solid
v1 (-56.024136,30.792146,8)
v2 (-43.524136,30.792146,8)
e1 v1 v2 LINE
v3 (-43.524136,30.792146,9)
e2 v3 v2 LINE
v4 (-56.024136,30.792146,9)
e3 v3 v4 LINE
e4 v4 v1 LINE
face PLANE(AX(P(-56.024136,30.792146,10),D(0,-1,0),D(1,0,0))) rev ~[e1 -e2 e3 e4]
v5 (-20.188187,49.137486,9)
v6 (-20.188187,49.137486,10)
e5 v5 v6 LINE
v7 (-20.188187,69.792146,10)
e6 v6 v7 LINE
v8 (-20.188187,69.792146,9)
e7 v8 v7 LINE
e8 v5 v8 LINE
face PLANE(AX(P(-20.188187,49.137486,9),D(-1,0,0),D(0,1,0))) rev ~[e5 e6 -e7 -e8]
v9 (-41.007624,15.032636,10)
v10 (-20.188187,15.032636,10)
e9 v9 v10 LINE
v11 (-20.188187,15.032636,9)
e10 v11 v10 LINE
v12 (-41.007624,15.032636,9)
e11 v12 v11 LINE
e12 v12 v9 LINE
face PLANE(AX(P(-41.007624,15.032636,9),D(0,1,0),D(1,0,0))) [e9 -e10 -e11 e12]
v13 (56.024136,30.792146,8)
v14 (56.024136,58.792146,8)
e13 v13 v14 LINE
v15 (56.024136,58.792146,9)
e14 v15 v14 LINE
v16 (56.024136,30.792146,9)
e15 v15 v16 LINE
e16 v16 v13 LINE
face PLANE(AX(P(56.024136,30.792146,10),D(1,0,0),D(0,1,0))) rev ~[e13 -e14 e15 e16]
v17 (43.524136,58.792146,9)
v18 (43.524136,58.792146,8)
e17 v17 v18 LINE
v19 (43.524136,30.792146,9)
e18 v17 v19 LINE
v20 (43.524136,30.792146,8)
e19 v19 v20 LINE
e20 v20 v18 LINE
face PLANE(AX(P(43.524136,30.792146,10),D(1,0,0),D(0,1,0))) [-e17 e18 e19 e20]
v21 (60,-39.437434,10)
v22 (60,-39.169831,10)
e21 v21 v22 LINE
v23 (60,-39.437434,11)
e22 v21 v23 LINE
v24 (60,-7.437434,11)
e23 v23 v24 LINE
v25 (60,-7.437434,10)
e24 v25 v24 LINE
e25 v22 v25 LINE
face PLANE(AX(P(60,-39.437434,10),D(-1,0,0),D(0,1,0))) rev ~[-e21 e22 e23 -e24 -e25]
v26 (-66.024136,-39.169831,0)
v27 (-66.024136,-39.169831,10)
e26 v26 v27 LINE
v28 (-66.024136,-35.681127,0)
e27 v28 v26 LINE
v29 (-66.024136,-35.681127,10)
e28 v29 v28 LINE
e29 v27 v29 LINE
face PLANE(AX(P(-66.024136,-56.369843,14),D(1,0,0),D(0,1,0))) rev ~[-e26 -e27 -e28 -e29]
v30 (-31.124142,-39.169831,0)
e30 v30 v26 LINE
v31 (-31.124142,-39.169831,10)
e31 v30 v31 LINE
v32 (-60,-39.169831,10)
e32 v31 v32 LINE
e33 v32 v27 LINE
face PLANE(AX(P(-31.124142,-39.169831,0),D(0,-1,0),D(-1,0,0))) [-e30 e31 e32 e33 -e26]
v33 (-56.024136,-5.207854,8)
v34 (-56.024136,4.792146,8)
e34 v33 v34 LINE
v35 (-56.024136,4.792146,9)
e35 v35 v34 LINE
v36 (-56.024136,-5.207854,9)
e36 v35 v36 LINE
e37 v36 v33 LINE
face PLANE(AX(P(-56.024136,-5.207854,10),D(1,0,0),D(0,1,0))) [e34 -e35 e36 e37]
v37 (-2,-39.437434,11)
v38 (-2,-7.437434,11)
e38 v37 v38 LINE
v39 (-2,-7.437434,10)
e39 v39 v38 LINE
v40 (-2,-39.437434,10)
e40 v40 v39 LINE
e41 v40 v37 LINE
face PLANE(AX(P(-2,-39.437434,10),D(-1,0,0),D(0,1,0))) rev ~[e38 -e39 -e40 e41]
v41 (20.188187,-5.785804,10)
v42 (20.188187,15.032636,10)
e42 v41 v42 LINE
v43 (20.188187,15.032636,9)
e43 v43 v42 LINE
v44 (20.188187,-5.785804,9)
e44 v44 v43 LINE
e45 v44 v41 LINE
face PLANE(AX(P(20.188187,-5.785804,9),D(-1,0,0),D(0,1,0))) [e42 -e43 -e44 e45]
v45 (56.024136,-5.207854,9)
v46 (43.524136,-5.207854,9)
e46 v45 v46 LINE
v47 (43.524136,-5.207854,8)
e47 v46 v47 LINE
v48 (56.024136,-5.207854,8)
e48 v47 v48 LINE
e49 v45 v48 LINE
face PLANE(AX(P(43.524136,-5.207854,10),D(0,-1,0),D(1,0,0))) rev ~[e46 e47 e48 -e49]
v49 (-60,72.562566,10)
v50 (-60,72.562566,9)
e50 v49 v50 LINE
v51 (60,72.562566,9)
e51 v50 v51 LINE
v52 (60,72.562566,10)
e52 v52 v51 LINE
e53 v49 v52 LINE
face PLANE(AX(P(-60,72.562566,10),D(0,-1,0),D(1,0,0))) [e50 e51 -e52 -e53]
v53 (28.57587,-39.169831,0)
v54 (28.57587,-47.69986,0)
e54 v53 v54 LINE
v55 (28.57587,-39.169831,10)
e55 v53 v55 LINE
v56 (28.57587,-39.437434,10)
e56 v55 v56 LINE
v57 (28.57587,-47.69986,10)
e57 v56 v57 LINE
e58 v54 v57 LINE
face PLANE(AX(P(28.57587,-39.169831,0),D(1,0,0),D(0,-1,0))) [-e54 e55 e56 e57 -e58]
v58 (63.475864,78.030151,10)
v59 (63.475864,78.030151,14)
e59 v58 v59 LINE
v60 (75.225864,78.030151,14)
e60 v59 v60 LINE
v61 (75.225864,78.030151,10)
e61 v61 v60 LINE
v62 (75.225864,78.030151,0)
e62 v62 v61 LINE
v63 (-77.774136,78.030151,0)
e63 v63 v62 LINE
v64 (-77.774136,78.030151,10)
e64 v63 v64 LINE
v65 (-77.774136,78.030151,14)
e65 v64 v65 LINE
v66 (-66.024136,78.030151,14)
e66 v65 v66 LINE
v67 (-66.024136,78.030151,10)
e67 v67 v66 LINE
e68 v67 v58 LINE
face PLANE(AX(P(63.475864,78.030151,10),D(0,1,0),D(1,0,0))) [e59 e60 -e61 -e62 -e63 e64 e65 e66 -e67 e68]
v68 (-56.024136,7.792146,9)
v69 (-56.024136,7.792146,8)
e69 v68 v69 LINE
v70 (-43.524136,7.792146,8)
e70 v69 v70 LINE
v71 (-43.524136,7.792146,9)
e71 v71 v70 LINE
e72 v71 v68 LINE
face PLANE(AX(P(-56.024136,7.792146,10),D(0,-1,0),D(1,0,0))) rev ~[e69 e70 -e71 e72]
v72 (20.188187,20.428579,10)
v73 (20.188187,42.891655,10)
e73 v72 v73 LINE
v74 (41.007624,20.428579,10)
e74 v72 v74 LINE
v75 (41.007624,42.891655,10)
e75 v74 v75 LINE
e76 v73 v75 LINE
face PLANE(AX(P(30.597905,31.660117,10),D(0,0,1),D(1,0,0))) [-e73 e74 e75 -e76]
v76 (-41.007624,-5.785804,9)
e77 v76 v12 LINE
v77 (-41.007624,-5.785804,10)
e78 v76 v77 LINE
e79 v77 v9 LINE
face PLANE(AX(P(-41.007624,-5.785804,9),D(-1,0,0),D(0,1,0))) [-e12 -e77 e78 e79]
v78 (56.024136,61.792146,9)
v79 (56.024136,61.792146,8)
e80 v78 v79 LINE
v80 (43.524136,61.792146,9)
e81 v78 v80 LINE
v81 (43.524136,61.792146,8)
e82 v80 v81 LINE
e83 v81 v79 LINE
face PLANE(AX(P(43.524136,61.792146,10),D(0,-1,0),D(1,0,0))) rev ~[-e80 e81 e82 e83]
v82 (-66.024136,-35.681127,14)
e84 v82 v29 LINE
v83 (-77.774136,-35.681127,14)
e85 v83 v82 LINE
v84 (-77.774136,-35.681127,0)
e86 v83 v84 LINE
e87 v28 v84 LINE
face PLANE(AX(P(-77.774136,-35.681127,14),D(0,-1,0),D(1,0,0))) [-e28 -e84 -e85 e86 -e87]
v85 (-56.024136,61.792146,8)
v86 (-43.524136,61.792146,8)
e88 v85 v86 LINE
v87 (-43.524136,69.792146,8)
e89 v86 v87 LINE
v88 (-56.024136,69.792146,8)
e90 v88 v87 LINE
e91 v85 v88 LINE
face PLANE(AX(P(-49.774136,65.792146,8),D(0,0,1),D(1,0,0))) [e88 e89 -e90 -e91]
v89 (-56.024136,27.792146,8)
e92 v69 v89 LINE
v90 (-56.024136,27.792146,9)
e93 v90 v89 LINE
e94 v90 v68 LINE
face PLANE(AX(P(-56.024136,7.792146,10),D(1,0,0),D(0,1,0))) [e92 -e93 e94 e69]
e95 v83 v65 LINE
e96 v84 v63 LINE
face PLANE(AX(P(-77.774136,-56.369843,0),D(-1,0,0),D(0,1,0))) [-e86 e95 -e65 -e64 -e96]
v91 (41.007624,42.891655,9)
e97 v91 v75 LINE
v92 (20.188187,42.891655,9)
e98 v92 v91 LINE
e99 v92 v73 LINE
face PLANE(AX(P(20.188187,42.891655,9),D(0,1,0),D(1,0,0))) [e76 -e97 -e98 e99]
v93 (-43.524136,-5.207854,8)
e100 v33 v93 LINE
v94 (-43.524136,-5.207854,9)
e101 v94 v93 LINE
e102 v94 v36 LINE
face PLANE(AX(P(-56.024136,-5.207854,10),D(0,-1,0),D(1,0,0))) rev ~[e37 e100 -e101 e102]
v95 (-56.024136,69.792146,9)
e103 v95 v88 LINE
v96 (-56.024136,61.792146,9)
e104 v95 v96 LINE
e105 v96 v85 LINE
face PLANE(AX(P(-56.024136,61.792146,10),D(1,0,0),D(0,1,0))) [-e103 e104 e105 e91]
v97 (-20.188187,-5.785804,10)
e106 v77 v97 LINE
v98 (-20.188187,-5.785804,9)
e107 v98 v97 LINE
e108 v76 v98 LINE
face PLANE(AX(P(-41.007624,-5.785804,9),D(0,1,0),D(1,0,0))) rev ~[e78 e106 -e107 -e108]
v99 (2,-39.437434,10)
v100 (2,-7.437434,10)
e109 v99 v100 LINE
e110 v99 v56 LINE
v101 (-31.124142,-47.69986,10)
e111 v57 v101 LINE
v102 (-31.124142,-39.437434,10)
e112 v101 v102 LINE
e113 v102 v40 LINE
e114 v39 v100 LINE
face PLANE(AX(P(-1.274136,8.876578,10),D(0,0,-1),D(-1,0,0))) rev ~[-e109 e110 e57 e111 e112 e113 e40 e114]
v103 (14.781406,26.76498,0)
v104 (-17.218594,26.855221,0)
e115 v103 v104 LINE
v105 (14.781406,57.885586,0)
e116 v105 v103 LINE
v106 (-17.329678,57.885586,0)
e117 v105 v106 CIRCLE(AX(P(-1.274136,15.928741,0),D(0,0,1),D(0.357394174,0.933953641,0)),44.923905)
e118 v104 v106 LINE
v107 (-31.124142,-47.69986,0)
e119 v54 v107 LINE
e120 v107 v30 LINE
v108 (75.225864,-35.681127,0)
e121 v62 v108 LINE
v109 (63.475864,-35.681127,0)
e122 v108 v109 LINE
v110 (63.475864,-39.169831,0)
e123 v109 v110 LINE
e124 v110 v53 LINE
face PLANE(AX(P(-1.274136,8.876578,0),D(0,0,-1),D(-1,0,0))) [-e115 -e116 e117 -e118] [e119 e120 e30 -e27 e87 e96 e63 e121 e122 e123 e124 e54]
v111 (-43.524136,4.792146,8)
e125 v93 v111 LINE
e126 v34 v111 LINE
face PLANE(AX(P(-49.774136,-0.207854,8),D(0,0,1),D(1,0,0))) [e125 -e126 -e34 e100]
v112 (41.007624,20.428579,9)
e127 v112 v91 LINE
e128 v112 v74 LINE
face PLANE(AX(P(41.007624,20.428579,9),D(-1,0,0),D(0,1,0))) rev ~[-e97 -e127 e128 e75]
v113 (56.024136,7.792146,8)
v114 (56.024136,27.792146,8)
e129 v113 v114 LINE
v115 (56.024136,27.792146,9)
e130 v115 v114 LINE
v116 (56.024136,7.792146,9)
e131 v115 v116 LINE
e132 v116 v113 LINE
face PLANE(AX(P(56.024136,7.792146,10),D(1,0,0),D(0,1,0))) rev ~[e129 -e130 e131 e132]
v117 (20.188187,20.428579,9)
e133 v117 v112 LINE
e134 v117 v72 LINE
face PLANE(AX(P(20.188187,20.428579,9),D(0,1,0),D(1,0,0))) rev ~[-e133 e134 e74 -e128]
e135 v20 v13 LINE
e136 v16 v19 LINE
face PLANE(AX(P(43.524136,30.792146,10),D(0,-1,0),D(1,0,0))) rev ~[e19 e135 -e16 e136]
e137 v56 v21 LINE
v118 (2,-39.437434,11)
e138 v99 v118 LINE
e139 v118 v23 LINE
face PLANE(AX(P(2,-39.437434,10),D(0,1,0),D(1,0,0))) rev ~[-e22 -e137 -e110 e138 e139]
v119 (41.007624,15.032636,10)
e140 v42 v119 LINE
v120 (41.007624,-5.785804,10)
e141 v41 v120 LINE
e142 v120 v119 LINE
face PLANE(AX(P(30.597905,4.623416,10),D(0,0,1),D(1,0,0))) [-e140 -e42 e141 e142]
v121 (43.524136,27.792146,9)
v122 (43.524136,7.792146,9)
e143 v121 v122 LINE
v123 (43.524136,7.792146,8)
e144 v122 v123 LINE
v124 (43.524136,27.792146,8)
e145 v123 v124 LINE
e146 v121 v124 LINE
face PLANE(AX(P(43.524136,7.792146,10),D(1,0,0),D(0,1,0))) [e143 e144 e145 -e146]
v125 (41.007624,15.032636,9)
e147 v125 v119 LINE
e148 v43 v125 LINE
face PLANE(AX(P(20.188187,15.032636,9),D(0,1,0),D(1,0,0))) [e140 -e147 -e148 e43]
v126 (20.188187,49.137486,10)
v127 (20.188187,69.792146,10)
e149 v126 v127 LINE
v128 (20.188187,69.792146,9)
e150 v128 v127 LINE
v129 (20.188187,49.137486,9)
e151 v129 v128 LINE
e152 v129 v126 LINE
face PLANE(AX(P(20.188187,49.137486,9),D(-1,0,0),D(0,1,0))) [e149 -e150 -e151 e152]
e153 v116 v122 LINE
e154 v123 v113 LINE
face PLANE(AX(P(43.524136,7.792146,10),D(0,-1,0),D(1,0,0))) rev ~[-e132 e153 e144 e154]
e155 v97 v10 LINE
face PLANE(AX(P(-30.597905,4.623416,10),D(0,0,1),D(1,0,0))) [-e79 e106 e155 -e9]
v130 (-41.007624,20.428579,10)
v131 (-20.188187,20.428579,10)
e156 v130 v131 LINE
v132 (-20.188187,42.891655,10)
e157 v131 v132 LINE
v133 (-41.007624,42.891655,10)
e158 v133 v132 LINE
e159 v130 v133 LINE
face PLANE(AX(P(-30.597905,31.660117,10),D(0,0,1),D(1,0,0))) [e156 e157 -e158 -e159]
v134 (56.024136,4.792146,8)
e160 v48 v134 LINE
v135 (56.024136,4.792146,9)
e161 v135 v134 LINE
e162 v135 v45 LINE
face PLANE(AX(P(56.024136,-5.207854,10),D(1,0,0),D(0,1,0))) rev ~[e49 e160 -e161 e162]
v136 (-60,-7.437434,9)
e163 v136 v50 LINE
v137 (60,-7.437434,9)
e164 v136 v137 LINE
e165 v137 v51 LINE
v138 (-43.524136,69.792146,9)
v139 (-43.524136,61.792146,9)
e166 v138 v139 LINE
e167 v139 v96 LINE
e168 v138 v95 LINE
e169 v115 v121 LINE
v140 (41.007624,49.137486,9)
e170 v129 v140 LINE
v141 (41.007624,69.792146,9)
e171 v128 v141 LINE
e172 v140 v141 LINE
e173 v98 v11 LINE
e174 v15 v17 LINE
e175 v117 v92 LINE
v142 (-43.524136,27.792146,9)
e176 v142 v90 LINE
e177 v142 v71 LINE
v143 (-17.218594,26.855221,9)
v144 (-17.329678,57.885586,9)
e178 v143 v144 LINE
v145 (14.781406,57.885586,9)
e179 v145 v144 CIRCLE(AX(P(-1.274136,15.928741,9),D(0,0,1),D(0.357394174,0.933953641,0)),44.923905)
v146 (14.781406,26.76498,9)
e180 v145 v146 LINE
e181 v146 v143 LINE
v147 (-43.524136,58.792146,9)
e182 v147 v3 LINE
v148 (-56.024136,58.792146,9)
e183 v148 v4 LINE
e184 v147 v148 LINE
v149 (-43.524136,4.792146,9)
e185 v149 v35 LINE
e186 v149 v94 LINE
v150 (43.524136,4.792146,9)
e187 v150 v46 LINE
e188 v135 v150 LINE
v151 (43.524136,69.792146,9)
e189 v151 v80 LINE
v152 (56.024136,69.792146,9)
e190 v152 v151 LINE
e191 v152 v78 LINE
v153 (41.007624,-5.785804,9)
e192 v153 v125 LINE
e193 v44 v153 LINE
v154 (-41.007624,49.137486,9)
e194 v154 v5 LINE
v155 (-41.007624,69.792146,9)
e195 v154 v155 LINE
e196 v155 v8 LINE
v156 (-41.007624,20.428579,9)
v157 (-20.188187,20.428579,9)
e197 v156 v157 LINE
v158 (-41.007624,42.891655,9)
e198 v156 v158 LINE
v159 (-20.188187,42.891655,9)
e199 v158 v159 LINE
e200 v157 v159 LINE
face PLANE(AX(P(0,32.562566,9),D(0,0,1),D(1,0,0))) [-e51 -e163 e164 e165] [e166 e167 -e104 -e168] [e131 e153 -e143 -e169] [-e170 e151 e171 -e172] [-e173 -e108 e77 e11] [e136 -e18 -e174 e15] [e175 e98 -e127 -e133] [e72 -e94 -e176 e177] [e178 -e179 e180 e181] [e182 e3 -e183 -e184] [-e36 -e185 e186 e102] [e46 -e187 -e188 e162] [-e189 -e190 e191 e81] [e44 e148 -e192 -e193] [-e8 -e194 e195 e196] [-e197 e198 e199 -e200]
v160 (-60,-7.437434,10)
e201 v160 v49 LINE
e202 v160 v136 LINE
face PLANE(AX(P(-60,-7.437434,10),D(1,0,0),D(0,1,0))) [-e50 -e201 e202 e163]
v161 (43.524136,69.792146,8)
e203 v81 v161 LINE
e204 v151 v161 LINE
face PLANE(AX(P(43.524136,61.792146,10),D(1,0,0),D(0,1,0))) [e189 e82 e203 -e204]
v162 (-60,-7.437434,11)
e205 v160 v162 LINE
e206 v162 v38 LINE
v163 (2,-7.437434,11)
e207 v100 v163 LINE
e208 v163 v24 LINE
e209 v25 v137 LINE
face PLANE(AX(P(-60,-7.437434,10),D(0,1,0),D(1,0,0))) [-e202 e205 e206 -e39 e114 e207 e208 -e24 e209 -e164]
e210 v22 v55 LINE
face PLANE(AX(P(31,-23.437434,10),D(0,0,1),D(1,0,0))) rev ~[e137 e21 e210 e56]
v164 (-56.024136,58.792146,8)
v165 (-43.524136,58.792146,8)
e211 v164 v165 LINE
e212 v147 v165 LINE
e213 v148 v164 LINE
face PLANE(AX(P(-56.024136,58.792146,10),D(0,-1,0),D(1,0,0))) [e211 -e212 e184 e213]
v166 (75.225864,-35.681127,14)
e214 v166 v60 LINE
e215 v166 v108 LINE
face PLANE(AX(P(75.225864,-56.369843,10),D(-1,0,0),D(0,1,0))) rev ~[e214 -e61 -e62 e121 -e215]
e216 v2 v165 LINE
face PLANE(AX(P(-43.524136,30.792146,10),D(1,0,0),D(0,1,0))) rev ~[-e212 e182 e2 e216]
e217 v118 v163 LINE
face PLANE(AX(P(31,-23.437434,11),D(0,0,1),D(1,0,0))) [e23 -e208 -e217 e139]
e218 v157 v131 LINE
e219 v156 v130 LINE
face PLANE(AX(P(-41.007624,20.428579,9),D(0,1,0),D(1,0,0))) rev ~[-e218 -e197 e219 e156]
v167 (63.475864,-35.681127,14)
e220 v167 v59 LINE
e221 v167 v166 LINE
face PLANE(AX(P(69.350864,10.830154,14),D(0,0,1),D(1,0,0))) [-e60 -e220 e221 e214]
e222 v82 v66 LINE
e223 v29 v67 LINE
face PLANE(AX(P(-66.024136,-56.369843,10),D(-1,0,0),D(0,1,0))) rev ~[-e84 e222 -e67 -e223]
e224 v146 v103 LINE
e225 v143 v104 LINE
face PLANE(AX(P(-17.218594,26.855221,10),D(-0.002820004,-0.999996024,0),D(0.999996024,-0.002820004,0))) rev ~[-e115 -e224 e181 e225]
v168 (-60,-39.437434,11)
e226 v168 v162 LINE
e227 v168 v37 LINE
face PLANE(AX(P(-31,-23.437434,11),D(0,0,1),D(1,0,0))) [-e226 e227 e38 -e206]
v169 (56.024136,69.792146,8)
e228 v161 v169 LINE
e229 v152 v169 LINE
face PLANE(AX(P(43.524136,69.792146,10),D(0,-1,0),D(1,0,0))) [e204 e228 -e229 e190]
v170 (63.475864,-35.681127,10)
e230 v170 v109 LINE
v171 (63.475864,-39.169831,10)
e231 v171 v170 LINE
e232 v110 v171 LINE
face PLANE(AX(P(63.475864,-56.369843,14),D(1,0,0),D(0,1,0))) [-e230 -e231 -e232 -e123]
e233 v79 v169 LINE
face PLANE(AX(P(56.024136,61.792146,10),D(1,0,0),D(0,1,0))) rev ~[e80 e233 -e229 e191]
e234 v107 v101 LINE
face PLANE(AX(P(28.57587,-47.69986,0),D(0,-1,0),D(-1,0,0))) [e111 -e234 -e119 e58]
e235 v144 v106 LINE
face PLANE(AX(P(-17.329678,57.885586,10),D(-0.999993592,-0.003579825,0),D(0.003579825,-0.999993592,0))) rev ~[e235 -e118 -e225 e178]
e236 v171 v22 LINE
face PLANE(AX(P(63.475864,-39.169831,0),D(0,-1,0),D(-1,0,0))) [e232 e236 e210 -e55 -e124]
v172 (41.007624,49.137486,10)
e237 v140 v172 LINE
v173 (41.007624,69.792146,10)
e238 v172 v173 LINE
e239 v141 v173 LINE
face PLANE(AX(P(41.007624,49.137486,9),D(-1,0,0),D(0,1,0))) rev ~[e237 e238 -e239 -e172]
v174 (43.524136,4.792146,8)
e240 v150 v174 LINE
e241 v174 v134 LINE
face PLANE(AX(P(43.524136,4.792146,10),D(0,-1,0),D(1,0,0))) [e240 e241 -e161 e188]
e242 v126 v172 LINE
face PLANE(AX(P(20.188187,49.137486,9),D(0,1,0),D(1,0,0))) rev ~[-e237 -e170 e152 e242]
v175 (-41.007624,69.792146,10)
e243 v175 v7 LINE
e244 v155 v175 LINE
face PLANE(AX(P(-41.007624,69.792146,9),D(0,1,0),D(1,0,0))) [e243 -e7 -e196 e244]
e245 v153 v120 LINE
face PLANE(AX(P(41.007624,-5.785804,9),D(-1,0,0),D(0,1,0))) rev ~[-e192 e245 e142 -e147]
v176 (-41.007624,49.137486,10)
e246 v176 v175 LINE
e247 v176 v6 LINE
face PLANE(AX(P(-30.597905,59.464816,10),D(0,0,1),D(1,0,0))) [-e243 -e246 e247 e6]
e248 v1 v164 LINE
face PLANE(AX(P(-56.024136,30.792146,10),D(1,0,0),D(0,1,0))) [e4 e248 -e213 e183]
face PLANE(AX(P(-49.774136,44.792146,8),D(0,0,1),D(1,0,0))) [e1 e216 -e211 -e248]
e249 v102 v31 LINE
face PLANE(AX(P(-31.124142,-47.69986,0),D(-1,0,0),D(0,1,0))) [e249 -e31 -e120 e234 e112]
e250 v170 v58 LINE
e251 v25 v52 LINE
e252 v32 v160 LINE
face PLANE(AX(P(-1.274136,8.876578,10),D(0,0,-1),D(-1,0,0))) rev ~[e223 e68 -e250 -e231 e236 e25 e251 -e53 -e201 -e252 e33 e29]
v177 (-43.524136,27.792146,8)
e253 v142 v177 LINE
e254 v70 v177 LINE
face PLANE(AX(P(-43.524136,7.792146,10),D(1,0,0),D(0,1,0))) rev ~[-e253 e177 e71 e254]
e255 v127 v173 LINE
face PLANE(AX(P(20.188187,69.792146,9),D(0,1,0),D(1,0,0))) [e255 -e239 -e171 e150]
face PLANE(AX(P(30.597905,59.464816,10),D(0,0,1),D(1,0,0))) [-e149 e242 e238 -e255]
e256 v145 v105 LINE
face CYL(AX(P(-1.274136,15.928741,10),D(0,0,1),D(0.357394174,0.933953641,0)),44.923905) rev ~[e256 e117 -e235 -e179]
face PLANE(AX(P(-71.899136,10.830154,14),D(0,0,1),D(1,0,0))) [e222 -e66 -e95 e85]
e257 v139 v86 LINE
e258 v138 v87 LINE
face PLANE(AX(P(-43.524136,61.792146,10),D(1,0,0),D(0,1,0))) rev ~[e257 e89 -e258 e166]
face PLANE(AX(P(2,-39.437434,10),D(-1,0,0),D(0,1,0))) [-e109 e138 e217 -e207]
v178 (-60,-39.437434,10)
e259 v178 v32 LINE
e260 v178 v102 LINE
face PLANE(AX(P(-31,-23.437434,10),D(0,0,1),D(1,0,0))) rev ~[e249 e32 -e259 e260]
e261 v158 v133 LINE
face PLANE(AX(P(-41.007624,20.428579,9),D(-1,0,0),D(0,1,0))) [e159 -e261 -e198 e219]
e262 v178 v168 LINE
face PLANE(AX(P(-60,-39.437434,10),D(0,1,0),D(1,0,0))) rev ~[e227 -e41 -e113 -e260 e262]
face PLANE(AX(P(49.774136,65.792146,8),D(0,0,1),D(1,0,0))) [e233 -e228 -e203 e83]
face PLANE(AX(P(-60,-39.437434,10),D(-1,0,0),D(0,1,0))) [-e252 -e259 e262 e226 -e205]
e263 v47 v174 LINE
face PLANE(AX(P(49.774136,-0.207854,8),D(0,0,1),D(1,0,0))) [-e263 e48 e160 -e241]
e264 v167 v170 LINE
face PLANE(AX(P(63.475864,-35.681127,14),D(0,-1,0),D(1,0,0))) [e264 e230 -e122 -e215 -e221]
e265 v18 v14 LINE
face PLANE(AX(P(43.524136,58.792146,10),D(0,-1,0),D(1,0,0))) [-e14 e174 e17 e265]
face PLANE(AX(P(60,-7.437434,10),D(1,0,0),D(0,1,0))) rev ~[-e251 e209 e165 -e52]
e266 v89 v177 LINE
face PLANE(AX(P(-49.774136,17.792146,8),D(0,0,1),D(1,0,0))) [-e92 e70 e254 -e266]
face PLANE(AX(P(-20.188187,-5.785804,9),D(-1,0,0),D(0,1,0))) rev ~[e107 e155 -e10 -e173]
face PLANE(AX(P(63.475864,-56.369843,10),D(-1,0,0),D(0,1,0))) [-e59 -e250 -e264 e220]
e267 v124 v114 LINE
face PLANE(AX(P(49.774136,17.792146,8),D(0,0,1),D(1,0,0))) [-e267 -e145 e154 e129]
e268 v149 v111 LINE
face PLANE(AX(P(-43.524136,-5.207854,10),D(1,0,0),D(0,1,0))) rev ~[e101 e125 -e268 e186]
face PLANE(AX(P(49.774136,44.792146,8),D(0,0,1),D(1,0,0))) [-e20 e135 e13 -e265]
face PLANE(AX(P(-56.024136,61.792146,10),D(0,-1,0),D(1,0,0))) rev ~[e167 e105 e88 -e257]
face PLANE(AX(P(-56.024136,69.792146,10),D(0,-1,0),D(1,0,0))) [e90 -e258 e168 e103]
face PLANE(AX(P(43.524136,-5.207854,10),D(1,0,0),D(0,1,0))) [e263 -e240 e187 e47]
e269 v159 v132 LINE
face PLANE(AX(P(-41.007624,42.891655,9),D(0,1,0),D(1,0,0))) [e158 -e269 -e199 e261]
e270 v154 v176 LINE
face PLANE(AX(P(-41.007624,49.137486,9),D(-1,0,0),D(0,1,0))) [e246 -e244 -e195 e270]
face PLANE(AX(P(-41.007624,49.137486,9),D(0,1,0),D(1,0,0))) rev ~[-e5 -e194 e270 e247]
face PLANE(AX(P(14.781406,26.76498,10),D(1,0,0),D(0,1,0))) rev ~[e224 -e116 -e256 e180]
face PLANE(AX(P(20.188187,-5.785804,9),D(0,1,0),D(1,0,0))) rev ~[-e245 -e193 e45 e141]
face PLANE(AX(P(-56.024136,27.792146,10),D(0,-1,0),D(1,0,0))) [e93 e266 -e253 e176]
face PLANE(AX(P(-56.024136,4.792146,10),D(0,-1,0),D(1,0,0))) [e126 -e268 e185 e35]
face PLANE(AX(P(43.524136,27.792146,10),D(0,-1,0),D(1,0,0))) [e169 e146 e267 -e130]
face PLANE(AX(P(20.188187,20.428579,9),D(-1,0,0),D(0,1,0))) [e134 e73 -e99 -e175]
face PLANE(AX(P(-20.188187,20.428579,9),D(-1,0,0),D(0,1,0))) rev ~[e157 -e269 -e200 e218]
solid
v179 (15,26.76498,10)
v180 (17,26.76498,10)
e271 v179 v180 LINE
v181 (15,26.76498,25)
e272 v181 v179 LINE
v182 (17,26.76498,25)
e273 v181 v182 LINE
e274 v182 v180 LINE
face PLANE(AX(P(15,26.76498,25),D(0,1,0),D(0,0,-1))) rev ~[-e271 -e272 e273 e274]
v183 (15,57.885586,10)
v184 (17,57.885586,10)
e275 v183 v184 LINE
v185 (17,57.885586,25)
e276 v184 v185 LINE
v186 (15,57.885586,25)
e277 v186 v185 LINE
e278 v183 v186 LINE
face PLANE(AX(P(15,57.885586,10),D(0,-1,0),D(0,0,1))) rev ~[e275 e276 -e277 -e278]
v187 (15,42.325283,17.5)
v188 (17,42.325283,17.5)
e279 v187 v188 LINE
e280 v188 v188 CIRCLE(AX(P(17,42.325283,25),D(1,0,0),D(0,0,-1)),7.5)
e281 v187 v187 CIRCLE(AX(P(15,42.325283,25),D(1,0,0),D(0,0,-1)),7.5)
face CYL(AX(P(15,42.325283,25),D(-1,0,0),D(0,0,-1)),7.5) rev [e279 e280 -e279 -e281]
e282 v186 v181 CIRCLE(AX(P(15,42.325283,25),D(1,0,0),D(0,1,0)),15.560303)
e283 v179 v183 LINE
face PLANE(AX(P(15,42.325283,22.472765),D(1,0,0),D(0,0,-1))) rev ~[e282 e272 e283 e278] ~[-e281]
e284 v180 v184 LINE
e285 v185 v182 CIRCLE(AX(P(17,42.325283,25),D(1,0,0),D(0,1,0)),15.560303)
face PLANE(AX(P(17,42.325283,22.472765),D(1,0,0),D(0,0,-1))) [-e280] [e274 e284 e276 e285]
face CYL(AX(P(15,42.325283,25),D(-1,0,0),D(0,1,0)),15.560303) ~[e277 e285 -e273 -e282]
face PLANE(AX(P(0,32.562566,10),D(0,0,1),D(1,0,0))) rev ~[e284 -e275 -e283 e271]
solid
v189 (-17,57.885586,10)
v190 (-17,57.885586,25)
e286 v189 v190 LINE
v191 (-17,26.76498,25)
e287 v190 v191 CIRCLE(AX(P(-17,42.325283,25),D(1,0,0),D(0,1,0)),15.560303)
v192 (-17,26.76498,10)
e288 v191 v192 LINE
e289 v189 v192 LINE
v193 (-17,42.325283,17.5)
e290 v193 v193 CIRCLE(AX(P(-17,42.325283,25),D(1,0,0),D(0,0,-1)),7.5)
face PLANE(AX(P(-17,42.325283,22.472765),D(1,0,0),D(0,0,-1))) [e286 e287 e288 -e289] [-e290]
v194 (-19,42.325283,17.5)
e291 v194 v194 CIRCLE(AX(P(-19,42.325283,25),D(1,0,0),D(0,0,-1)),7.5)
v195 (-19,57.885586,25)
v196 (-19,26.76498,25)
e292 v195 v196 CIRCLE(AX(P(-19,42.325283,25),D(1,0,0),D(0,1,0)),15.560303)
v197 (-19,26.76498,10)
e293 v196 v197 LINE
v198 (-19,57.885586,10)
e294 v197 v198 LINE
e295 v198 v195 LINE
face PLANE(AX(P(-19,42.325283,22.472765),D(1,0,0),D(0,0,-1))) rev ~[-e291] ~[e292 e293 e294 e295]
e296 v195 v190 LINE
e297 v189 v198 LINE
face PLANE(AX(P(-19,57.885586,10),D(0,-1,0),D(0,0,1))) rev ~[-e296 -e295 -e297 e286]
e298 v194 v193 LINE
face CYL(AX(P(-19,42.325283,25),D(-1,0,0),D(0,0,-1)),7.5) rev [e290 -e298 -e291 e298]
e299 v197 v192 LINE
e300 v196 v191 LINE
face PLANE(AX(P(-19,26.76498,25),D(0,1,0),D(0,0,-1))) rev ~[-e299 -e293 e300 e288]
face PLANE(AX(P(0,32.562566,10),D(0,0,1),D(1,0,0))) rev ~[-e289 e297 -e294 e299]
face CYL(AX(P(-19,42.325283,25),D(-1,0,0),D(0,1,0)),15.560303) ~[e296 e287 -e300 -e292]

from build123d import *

# Parameters (mm, degrees)
BOSS_EXTRUDE1_DEPTH = 10
CUT_EXTRUDE1_DEPTH  = 60
SKETCH8_R           = 7.5
BOSS_EXTRUDE4_DEPTH = 2
BOSS_EXTRUDE5_START = -2
SKETCH9_R           = 7.5
BOSS_EXTRUDE5_DEPTH = 2
SKETCH2_W           = 11.75
SKETCH2_H           = 134.399993897
BOSS_EXTRUDE6_DEPTH = 4
SKETCH11_W          = 12.5
SKETCH11_H          = 8
SKETCH11_H_2        = 28
SKETCH11_H_3        = 20
SKETCH11_H_4        = 10
CUT_EXTRUDE2_DEPTH  = 2
SKETCH12_W          = 120
SKETCH12_H          = 80
CUT_EXTRUDE4_DEPTH  = 1
SKETCH14_W          = 20.819436715
SKETCH14_H          = 20.654659611
SKETCH14_H_2        = 22.463076456
SKETCH14_H_3        = 20.818440047
BOSS_EXTRUDE7_DEPTH = 1
SKETCH15_W          = 58
SKETCH15_H          = 32
BOSS_EXTRUDE8_DEPTH = 1
SKETCH16_W          = 11.75
SKETCH16_H          = 20.68871607
CUT_EXTRUDE5_DEPTH  = 30


with BuildPart() as part:
    # Sketch1 → Boss-Extrude1 (new body)
    with BuildSketch(Plane.XY):
        Polygon((-66.024135719, -56.369843335), (-77.774135719, -56.369843335), (-77.774135719, 78.030150562), (75.225864281, 78.030150562), (75.225864281, -56.369843335), (63.475864281, -56.369843335), (63.475864281, -39.169831128), (28.575870384, -39.169831128), (28.575870384, -47.699860425), (-31.124141823, -47.699860425), (-31.124141823, -39.169831128), (-66.024135719, -39.169831128), align=None)
    extrude(amount=BOSS_EXTRUDE1_DEPTH)

    # Sketch3 → Cut-Extrude1 (cut)
    with BuildSketch(Plane.XY.offset(10)):
        with BuildLine():
            Line((-17.218593727, 26.855220573), (14.781406273, 26.764980095))
            Line((14.781406273, 26.764980095), (14.781406273, 57.885585563))
            ThreePointArc((14.781406273, 57.885585563), (-1.274135719, 60.852645916), (-17.329677711, 57.885585563))
            Line((-17.329677711, 57.885585563), (-17.218593727, 26.855220573))
        make_face()
    extrude(amount=-CUT_EXTRUDE1_DEPTH, mode=Mode.SUBTRACT)

    # Sketch8 → Boss-Extrude4 (add)
    with BuildSketch(Plane(origin=(15, 0, 0), x_dir=(0, 0, -1), z_dir=(1, 0, 0))):
        with BuildLine():
            Line((-10, 26.764980095), (-10, 57.885585563))
            Line((-10, 57.885585563), (-25, 57.885585563))
            ThreePointArc((-25, 57.885585563), (-40.560302734, 42.325282829), (-25, 26.764980095))
            Line((-25, 26.764980095), (-10, 26.764980095))
        make_face()
        with Locations((-25, 42.325282829)):
            Circle(SKETCH8_R, mode=Mode.SUBTRACT)
    extrude(amount=BOSS_EXTRUDE4_DEPTH)

    # Sketch9 → Boss-Extrude5 (add)
    with BuildSketch(Plane(origin=(-17, 0, 0), x_dir=(0, 0, -1), z_dir=(1, 0, 0)).offset(BOSS_EXTRUDE5_START)):
        with BuildLine():
            Line((-10, 57.885585563), (-25, 57.885585563))
            ThreePointArc((-25, 57.885585563), (-40.560302734, 42.325282829), (-25, 26.764980095))
            Line((-25, 26.764980095), (-10, 26.764980095))
            Line((-10, 26.764980095), (-10, 57.885585563))
        make_face()
        with Locations((-25, 42.325282829)):
            Circle(SKETCH9_R, mode=Mode.SUBTRACT)
    extrude(amount=BOSS_EXTRUDE5_DEPTH)

    # Sketch2 → Boss-Extrude6 (add)
    with BuildSketch(Plane.XY.offset(10)):
        with Locations((69.350864281, 10.830153613)):
            Rectangle(SKETCH2_W, SKETCH2_H)
        with Locations((-71.899135719, 10.830153613)):
            Rectangle(SKETCH2_W, SKETCH2_H)
    extrude(amount=BOSS_EXTRUDE6_DEPTH)

    # Sketch11 → Cut-Extrude2 (cut)
    with BuildSketch(Plane.XY.offset(10)):
        with Locations((-49.774135719, 65.792146082)):
            Rectangle(SKETCH11_W, SKETCH11_H)
        with Locations((-49.774135719, 44.792146082)):
            Rectangle(SKETCH11_W, SKETCH11_H_2)
        with Locations((-49.774135719, 17.792146082)):
            Rectangle(SKETCH11_W, SKETCH11_H_3)
        with Locations((-49.774135719, -0.207853918)):
            Rectangle(SKETCH11_W, SKETCH11_H_4)
        with Locations((49.774135719, -0.207853918)):
            Rectangle(SKETCH11_W, SKETCH11_H_4)
        with Locations((49.774135719, 17.792146082)):
            Rectangle(SKETCH11_W, SKETCH11_H_3)
        with Locations((49.774135719, 44.792146082)):
            Rectangle(SKETCH11_W, SKETCH11_H_2)
        with Locations((49.774135719, 65.792146082)):
            Rectangle(SKETCH11_W, SKETCH11_H)
    extrude(amount=-CUT_EXTRUDE2_DEPTH, mode=Mode.SUBTRACT)

    # Sketch12 → Cut-Extrude4 (cut)
    with BuildSketch(Plane.XY.offset(10)):
        with Locations((0, 32.562566027)):
            Rectangle(SKETCH12_W, SKETCH12_H)
    extrude(amount=-CUT_EXTRUDE4_DEPTH, mode=Mode.SUBTRACT)


with BuildPart() as cut_extrude4_piece_1:
    # of the separate pieces the step leaves, piece 1, a body of its own (cut_extrude4_pieces)
    add(part.part.solids().sort_by_distance((-66.024135719, -56.369843335, 0))[0])

    # Sketch14 → Boss-Extrude7 (add)
    with BuildSketch(Plane.XY.offset(9)):
        with Locations((-30.597905478, 59.464816277)):
            Rectangle(SKETCH14_W, SKETCH14_H)
        with Locations((-30.597905478, 31.660117229)):
            Rectangle(SKETCH14_W, SKETCH14_H_2)
        with Locations((-30.597905478, 4.62341571)):
            Rectangle(SKETCH14_W, SKETCH14_H_3)
        with Locations((30.597905478, 31.660117229)):
            Rectangle(SKETCH14_W, SKETCH14_H_2)
        with Locations((30.597905478, 59.464816277)):
            Rectangle(SKETCH14_W, SKETCH14_H)
        with Locations((30.597905478, 4.62341571)):
            Rectangle(SKETCH14_W, SKETCH14_H_3)
    extrude(amount=BOSS_EXTRUDE7_DEPTH)

    # Sketch15 → Boss-Extrude8 (add)
    with BuildSketch(Plane.XY.offset(10)):
        with Locations((-31, -23.437433973)):
            Rectangle(SKETCH15_W, SKETCH15_H)
        with Locations((31, -23.437433973)):
            Rectangle(SKETCH15_W, SKETCH15_H)
    extrude(amount=BOSS_EXTRUDE8_DEPTH)

    # Sketch16 → Cut-Extrude5 (cut)
    with BuildSketch(Plane.XY.offset(14)):
        with Locations((-71.899135719, -46.0254853)):
            Rectangle(SKETCH16_W, SKETCH16_H)
        with Locations((69.350864281, -46.0254853)):
            Rectangle(SKETCH16_W, SKETCH16_H)
    extrude(amount=-CUT_EXTRUDE5_DEPTH, mode=Mode.SUBTRACT)


with BuildPart() as cut_extrude4_piece_2:
    # of the separate pieces the step leaves, piece 2, a body of its own (cut_extrude4_pieces)
    add(part.part.solids().sort_by_distance((15, 26.764980095, 25))[0])


with BuildPart() as cut_extrude4_piece_3:
    # of the separate pieces the step leaves, piece 3, a body of its own (cut_extrude4_pieces)
    add(part.part.solids().sort_by_distance((-17, 26.764980095, 25))[0])


solid = Compound([cut_extrude4_piece_1.part, cut_extrude4_piece_2.part, cut_extrude4_piece_3.part])
